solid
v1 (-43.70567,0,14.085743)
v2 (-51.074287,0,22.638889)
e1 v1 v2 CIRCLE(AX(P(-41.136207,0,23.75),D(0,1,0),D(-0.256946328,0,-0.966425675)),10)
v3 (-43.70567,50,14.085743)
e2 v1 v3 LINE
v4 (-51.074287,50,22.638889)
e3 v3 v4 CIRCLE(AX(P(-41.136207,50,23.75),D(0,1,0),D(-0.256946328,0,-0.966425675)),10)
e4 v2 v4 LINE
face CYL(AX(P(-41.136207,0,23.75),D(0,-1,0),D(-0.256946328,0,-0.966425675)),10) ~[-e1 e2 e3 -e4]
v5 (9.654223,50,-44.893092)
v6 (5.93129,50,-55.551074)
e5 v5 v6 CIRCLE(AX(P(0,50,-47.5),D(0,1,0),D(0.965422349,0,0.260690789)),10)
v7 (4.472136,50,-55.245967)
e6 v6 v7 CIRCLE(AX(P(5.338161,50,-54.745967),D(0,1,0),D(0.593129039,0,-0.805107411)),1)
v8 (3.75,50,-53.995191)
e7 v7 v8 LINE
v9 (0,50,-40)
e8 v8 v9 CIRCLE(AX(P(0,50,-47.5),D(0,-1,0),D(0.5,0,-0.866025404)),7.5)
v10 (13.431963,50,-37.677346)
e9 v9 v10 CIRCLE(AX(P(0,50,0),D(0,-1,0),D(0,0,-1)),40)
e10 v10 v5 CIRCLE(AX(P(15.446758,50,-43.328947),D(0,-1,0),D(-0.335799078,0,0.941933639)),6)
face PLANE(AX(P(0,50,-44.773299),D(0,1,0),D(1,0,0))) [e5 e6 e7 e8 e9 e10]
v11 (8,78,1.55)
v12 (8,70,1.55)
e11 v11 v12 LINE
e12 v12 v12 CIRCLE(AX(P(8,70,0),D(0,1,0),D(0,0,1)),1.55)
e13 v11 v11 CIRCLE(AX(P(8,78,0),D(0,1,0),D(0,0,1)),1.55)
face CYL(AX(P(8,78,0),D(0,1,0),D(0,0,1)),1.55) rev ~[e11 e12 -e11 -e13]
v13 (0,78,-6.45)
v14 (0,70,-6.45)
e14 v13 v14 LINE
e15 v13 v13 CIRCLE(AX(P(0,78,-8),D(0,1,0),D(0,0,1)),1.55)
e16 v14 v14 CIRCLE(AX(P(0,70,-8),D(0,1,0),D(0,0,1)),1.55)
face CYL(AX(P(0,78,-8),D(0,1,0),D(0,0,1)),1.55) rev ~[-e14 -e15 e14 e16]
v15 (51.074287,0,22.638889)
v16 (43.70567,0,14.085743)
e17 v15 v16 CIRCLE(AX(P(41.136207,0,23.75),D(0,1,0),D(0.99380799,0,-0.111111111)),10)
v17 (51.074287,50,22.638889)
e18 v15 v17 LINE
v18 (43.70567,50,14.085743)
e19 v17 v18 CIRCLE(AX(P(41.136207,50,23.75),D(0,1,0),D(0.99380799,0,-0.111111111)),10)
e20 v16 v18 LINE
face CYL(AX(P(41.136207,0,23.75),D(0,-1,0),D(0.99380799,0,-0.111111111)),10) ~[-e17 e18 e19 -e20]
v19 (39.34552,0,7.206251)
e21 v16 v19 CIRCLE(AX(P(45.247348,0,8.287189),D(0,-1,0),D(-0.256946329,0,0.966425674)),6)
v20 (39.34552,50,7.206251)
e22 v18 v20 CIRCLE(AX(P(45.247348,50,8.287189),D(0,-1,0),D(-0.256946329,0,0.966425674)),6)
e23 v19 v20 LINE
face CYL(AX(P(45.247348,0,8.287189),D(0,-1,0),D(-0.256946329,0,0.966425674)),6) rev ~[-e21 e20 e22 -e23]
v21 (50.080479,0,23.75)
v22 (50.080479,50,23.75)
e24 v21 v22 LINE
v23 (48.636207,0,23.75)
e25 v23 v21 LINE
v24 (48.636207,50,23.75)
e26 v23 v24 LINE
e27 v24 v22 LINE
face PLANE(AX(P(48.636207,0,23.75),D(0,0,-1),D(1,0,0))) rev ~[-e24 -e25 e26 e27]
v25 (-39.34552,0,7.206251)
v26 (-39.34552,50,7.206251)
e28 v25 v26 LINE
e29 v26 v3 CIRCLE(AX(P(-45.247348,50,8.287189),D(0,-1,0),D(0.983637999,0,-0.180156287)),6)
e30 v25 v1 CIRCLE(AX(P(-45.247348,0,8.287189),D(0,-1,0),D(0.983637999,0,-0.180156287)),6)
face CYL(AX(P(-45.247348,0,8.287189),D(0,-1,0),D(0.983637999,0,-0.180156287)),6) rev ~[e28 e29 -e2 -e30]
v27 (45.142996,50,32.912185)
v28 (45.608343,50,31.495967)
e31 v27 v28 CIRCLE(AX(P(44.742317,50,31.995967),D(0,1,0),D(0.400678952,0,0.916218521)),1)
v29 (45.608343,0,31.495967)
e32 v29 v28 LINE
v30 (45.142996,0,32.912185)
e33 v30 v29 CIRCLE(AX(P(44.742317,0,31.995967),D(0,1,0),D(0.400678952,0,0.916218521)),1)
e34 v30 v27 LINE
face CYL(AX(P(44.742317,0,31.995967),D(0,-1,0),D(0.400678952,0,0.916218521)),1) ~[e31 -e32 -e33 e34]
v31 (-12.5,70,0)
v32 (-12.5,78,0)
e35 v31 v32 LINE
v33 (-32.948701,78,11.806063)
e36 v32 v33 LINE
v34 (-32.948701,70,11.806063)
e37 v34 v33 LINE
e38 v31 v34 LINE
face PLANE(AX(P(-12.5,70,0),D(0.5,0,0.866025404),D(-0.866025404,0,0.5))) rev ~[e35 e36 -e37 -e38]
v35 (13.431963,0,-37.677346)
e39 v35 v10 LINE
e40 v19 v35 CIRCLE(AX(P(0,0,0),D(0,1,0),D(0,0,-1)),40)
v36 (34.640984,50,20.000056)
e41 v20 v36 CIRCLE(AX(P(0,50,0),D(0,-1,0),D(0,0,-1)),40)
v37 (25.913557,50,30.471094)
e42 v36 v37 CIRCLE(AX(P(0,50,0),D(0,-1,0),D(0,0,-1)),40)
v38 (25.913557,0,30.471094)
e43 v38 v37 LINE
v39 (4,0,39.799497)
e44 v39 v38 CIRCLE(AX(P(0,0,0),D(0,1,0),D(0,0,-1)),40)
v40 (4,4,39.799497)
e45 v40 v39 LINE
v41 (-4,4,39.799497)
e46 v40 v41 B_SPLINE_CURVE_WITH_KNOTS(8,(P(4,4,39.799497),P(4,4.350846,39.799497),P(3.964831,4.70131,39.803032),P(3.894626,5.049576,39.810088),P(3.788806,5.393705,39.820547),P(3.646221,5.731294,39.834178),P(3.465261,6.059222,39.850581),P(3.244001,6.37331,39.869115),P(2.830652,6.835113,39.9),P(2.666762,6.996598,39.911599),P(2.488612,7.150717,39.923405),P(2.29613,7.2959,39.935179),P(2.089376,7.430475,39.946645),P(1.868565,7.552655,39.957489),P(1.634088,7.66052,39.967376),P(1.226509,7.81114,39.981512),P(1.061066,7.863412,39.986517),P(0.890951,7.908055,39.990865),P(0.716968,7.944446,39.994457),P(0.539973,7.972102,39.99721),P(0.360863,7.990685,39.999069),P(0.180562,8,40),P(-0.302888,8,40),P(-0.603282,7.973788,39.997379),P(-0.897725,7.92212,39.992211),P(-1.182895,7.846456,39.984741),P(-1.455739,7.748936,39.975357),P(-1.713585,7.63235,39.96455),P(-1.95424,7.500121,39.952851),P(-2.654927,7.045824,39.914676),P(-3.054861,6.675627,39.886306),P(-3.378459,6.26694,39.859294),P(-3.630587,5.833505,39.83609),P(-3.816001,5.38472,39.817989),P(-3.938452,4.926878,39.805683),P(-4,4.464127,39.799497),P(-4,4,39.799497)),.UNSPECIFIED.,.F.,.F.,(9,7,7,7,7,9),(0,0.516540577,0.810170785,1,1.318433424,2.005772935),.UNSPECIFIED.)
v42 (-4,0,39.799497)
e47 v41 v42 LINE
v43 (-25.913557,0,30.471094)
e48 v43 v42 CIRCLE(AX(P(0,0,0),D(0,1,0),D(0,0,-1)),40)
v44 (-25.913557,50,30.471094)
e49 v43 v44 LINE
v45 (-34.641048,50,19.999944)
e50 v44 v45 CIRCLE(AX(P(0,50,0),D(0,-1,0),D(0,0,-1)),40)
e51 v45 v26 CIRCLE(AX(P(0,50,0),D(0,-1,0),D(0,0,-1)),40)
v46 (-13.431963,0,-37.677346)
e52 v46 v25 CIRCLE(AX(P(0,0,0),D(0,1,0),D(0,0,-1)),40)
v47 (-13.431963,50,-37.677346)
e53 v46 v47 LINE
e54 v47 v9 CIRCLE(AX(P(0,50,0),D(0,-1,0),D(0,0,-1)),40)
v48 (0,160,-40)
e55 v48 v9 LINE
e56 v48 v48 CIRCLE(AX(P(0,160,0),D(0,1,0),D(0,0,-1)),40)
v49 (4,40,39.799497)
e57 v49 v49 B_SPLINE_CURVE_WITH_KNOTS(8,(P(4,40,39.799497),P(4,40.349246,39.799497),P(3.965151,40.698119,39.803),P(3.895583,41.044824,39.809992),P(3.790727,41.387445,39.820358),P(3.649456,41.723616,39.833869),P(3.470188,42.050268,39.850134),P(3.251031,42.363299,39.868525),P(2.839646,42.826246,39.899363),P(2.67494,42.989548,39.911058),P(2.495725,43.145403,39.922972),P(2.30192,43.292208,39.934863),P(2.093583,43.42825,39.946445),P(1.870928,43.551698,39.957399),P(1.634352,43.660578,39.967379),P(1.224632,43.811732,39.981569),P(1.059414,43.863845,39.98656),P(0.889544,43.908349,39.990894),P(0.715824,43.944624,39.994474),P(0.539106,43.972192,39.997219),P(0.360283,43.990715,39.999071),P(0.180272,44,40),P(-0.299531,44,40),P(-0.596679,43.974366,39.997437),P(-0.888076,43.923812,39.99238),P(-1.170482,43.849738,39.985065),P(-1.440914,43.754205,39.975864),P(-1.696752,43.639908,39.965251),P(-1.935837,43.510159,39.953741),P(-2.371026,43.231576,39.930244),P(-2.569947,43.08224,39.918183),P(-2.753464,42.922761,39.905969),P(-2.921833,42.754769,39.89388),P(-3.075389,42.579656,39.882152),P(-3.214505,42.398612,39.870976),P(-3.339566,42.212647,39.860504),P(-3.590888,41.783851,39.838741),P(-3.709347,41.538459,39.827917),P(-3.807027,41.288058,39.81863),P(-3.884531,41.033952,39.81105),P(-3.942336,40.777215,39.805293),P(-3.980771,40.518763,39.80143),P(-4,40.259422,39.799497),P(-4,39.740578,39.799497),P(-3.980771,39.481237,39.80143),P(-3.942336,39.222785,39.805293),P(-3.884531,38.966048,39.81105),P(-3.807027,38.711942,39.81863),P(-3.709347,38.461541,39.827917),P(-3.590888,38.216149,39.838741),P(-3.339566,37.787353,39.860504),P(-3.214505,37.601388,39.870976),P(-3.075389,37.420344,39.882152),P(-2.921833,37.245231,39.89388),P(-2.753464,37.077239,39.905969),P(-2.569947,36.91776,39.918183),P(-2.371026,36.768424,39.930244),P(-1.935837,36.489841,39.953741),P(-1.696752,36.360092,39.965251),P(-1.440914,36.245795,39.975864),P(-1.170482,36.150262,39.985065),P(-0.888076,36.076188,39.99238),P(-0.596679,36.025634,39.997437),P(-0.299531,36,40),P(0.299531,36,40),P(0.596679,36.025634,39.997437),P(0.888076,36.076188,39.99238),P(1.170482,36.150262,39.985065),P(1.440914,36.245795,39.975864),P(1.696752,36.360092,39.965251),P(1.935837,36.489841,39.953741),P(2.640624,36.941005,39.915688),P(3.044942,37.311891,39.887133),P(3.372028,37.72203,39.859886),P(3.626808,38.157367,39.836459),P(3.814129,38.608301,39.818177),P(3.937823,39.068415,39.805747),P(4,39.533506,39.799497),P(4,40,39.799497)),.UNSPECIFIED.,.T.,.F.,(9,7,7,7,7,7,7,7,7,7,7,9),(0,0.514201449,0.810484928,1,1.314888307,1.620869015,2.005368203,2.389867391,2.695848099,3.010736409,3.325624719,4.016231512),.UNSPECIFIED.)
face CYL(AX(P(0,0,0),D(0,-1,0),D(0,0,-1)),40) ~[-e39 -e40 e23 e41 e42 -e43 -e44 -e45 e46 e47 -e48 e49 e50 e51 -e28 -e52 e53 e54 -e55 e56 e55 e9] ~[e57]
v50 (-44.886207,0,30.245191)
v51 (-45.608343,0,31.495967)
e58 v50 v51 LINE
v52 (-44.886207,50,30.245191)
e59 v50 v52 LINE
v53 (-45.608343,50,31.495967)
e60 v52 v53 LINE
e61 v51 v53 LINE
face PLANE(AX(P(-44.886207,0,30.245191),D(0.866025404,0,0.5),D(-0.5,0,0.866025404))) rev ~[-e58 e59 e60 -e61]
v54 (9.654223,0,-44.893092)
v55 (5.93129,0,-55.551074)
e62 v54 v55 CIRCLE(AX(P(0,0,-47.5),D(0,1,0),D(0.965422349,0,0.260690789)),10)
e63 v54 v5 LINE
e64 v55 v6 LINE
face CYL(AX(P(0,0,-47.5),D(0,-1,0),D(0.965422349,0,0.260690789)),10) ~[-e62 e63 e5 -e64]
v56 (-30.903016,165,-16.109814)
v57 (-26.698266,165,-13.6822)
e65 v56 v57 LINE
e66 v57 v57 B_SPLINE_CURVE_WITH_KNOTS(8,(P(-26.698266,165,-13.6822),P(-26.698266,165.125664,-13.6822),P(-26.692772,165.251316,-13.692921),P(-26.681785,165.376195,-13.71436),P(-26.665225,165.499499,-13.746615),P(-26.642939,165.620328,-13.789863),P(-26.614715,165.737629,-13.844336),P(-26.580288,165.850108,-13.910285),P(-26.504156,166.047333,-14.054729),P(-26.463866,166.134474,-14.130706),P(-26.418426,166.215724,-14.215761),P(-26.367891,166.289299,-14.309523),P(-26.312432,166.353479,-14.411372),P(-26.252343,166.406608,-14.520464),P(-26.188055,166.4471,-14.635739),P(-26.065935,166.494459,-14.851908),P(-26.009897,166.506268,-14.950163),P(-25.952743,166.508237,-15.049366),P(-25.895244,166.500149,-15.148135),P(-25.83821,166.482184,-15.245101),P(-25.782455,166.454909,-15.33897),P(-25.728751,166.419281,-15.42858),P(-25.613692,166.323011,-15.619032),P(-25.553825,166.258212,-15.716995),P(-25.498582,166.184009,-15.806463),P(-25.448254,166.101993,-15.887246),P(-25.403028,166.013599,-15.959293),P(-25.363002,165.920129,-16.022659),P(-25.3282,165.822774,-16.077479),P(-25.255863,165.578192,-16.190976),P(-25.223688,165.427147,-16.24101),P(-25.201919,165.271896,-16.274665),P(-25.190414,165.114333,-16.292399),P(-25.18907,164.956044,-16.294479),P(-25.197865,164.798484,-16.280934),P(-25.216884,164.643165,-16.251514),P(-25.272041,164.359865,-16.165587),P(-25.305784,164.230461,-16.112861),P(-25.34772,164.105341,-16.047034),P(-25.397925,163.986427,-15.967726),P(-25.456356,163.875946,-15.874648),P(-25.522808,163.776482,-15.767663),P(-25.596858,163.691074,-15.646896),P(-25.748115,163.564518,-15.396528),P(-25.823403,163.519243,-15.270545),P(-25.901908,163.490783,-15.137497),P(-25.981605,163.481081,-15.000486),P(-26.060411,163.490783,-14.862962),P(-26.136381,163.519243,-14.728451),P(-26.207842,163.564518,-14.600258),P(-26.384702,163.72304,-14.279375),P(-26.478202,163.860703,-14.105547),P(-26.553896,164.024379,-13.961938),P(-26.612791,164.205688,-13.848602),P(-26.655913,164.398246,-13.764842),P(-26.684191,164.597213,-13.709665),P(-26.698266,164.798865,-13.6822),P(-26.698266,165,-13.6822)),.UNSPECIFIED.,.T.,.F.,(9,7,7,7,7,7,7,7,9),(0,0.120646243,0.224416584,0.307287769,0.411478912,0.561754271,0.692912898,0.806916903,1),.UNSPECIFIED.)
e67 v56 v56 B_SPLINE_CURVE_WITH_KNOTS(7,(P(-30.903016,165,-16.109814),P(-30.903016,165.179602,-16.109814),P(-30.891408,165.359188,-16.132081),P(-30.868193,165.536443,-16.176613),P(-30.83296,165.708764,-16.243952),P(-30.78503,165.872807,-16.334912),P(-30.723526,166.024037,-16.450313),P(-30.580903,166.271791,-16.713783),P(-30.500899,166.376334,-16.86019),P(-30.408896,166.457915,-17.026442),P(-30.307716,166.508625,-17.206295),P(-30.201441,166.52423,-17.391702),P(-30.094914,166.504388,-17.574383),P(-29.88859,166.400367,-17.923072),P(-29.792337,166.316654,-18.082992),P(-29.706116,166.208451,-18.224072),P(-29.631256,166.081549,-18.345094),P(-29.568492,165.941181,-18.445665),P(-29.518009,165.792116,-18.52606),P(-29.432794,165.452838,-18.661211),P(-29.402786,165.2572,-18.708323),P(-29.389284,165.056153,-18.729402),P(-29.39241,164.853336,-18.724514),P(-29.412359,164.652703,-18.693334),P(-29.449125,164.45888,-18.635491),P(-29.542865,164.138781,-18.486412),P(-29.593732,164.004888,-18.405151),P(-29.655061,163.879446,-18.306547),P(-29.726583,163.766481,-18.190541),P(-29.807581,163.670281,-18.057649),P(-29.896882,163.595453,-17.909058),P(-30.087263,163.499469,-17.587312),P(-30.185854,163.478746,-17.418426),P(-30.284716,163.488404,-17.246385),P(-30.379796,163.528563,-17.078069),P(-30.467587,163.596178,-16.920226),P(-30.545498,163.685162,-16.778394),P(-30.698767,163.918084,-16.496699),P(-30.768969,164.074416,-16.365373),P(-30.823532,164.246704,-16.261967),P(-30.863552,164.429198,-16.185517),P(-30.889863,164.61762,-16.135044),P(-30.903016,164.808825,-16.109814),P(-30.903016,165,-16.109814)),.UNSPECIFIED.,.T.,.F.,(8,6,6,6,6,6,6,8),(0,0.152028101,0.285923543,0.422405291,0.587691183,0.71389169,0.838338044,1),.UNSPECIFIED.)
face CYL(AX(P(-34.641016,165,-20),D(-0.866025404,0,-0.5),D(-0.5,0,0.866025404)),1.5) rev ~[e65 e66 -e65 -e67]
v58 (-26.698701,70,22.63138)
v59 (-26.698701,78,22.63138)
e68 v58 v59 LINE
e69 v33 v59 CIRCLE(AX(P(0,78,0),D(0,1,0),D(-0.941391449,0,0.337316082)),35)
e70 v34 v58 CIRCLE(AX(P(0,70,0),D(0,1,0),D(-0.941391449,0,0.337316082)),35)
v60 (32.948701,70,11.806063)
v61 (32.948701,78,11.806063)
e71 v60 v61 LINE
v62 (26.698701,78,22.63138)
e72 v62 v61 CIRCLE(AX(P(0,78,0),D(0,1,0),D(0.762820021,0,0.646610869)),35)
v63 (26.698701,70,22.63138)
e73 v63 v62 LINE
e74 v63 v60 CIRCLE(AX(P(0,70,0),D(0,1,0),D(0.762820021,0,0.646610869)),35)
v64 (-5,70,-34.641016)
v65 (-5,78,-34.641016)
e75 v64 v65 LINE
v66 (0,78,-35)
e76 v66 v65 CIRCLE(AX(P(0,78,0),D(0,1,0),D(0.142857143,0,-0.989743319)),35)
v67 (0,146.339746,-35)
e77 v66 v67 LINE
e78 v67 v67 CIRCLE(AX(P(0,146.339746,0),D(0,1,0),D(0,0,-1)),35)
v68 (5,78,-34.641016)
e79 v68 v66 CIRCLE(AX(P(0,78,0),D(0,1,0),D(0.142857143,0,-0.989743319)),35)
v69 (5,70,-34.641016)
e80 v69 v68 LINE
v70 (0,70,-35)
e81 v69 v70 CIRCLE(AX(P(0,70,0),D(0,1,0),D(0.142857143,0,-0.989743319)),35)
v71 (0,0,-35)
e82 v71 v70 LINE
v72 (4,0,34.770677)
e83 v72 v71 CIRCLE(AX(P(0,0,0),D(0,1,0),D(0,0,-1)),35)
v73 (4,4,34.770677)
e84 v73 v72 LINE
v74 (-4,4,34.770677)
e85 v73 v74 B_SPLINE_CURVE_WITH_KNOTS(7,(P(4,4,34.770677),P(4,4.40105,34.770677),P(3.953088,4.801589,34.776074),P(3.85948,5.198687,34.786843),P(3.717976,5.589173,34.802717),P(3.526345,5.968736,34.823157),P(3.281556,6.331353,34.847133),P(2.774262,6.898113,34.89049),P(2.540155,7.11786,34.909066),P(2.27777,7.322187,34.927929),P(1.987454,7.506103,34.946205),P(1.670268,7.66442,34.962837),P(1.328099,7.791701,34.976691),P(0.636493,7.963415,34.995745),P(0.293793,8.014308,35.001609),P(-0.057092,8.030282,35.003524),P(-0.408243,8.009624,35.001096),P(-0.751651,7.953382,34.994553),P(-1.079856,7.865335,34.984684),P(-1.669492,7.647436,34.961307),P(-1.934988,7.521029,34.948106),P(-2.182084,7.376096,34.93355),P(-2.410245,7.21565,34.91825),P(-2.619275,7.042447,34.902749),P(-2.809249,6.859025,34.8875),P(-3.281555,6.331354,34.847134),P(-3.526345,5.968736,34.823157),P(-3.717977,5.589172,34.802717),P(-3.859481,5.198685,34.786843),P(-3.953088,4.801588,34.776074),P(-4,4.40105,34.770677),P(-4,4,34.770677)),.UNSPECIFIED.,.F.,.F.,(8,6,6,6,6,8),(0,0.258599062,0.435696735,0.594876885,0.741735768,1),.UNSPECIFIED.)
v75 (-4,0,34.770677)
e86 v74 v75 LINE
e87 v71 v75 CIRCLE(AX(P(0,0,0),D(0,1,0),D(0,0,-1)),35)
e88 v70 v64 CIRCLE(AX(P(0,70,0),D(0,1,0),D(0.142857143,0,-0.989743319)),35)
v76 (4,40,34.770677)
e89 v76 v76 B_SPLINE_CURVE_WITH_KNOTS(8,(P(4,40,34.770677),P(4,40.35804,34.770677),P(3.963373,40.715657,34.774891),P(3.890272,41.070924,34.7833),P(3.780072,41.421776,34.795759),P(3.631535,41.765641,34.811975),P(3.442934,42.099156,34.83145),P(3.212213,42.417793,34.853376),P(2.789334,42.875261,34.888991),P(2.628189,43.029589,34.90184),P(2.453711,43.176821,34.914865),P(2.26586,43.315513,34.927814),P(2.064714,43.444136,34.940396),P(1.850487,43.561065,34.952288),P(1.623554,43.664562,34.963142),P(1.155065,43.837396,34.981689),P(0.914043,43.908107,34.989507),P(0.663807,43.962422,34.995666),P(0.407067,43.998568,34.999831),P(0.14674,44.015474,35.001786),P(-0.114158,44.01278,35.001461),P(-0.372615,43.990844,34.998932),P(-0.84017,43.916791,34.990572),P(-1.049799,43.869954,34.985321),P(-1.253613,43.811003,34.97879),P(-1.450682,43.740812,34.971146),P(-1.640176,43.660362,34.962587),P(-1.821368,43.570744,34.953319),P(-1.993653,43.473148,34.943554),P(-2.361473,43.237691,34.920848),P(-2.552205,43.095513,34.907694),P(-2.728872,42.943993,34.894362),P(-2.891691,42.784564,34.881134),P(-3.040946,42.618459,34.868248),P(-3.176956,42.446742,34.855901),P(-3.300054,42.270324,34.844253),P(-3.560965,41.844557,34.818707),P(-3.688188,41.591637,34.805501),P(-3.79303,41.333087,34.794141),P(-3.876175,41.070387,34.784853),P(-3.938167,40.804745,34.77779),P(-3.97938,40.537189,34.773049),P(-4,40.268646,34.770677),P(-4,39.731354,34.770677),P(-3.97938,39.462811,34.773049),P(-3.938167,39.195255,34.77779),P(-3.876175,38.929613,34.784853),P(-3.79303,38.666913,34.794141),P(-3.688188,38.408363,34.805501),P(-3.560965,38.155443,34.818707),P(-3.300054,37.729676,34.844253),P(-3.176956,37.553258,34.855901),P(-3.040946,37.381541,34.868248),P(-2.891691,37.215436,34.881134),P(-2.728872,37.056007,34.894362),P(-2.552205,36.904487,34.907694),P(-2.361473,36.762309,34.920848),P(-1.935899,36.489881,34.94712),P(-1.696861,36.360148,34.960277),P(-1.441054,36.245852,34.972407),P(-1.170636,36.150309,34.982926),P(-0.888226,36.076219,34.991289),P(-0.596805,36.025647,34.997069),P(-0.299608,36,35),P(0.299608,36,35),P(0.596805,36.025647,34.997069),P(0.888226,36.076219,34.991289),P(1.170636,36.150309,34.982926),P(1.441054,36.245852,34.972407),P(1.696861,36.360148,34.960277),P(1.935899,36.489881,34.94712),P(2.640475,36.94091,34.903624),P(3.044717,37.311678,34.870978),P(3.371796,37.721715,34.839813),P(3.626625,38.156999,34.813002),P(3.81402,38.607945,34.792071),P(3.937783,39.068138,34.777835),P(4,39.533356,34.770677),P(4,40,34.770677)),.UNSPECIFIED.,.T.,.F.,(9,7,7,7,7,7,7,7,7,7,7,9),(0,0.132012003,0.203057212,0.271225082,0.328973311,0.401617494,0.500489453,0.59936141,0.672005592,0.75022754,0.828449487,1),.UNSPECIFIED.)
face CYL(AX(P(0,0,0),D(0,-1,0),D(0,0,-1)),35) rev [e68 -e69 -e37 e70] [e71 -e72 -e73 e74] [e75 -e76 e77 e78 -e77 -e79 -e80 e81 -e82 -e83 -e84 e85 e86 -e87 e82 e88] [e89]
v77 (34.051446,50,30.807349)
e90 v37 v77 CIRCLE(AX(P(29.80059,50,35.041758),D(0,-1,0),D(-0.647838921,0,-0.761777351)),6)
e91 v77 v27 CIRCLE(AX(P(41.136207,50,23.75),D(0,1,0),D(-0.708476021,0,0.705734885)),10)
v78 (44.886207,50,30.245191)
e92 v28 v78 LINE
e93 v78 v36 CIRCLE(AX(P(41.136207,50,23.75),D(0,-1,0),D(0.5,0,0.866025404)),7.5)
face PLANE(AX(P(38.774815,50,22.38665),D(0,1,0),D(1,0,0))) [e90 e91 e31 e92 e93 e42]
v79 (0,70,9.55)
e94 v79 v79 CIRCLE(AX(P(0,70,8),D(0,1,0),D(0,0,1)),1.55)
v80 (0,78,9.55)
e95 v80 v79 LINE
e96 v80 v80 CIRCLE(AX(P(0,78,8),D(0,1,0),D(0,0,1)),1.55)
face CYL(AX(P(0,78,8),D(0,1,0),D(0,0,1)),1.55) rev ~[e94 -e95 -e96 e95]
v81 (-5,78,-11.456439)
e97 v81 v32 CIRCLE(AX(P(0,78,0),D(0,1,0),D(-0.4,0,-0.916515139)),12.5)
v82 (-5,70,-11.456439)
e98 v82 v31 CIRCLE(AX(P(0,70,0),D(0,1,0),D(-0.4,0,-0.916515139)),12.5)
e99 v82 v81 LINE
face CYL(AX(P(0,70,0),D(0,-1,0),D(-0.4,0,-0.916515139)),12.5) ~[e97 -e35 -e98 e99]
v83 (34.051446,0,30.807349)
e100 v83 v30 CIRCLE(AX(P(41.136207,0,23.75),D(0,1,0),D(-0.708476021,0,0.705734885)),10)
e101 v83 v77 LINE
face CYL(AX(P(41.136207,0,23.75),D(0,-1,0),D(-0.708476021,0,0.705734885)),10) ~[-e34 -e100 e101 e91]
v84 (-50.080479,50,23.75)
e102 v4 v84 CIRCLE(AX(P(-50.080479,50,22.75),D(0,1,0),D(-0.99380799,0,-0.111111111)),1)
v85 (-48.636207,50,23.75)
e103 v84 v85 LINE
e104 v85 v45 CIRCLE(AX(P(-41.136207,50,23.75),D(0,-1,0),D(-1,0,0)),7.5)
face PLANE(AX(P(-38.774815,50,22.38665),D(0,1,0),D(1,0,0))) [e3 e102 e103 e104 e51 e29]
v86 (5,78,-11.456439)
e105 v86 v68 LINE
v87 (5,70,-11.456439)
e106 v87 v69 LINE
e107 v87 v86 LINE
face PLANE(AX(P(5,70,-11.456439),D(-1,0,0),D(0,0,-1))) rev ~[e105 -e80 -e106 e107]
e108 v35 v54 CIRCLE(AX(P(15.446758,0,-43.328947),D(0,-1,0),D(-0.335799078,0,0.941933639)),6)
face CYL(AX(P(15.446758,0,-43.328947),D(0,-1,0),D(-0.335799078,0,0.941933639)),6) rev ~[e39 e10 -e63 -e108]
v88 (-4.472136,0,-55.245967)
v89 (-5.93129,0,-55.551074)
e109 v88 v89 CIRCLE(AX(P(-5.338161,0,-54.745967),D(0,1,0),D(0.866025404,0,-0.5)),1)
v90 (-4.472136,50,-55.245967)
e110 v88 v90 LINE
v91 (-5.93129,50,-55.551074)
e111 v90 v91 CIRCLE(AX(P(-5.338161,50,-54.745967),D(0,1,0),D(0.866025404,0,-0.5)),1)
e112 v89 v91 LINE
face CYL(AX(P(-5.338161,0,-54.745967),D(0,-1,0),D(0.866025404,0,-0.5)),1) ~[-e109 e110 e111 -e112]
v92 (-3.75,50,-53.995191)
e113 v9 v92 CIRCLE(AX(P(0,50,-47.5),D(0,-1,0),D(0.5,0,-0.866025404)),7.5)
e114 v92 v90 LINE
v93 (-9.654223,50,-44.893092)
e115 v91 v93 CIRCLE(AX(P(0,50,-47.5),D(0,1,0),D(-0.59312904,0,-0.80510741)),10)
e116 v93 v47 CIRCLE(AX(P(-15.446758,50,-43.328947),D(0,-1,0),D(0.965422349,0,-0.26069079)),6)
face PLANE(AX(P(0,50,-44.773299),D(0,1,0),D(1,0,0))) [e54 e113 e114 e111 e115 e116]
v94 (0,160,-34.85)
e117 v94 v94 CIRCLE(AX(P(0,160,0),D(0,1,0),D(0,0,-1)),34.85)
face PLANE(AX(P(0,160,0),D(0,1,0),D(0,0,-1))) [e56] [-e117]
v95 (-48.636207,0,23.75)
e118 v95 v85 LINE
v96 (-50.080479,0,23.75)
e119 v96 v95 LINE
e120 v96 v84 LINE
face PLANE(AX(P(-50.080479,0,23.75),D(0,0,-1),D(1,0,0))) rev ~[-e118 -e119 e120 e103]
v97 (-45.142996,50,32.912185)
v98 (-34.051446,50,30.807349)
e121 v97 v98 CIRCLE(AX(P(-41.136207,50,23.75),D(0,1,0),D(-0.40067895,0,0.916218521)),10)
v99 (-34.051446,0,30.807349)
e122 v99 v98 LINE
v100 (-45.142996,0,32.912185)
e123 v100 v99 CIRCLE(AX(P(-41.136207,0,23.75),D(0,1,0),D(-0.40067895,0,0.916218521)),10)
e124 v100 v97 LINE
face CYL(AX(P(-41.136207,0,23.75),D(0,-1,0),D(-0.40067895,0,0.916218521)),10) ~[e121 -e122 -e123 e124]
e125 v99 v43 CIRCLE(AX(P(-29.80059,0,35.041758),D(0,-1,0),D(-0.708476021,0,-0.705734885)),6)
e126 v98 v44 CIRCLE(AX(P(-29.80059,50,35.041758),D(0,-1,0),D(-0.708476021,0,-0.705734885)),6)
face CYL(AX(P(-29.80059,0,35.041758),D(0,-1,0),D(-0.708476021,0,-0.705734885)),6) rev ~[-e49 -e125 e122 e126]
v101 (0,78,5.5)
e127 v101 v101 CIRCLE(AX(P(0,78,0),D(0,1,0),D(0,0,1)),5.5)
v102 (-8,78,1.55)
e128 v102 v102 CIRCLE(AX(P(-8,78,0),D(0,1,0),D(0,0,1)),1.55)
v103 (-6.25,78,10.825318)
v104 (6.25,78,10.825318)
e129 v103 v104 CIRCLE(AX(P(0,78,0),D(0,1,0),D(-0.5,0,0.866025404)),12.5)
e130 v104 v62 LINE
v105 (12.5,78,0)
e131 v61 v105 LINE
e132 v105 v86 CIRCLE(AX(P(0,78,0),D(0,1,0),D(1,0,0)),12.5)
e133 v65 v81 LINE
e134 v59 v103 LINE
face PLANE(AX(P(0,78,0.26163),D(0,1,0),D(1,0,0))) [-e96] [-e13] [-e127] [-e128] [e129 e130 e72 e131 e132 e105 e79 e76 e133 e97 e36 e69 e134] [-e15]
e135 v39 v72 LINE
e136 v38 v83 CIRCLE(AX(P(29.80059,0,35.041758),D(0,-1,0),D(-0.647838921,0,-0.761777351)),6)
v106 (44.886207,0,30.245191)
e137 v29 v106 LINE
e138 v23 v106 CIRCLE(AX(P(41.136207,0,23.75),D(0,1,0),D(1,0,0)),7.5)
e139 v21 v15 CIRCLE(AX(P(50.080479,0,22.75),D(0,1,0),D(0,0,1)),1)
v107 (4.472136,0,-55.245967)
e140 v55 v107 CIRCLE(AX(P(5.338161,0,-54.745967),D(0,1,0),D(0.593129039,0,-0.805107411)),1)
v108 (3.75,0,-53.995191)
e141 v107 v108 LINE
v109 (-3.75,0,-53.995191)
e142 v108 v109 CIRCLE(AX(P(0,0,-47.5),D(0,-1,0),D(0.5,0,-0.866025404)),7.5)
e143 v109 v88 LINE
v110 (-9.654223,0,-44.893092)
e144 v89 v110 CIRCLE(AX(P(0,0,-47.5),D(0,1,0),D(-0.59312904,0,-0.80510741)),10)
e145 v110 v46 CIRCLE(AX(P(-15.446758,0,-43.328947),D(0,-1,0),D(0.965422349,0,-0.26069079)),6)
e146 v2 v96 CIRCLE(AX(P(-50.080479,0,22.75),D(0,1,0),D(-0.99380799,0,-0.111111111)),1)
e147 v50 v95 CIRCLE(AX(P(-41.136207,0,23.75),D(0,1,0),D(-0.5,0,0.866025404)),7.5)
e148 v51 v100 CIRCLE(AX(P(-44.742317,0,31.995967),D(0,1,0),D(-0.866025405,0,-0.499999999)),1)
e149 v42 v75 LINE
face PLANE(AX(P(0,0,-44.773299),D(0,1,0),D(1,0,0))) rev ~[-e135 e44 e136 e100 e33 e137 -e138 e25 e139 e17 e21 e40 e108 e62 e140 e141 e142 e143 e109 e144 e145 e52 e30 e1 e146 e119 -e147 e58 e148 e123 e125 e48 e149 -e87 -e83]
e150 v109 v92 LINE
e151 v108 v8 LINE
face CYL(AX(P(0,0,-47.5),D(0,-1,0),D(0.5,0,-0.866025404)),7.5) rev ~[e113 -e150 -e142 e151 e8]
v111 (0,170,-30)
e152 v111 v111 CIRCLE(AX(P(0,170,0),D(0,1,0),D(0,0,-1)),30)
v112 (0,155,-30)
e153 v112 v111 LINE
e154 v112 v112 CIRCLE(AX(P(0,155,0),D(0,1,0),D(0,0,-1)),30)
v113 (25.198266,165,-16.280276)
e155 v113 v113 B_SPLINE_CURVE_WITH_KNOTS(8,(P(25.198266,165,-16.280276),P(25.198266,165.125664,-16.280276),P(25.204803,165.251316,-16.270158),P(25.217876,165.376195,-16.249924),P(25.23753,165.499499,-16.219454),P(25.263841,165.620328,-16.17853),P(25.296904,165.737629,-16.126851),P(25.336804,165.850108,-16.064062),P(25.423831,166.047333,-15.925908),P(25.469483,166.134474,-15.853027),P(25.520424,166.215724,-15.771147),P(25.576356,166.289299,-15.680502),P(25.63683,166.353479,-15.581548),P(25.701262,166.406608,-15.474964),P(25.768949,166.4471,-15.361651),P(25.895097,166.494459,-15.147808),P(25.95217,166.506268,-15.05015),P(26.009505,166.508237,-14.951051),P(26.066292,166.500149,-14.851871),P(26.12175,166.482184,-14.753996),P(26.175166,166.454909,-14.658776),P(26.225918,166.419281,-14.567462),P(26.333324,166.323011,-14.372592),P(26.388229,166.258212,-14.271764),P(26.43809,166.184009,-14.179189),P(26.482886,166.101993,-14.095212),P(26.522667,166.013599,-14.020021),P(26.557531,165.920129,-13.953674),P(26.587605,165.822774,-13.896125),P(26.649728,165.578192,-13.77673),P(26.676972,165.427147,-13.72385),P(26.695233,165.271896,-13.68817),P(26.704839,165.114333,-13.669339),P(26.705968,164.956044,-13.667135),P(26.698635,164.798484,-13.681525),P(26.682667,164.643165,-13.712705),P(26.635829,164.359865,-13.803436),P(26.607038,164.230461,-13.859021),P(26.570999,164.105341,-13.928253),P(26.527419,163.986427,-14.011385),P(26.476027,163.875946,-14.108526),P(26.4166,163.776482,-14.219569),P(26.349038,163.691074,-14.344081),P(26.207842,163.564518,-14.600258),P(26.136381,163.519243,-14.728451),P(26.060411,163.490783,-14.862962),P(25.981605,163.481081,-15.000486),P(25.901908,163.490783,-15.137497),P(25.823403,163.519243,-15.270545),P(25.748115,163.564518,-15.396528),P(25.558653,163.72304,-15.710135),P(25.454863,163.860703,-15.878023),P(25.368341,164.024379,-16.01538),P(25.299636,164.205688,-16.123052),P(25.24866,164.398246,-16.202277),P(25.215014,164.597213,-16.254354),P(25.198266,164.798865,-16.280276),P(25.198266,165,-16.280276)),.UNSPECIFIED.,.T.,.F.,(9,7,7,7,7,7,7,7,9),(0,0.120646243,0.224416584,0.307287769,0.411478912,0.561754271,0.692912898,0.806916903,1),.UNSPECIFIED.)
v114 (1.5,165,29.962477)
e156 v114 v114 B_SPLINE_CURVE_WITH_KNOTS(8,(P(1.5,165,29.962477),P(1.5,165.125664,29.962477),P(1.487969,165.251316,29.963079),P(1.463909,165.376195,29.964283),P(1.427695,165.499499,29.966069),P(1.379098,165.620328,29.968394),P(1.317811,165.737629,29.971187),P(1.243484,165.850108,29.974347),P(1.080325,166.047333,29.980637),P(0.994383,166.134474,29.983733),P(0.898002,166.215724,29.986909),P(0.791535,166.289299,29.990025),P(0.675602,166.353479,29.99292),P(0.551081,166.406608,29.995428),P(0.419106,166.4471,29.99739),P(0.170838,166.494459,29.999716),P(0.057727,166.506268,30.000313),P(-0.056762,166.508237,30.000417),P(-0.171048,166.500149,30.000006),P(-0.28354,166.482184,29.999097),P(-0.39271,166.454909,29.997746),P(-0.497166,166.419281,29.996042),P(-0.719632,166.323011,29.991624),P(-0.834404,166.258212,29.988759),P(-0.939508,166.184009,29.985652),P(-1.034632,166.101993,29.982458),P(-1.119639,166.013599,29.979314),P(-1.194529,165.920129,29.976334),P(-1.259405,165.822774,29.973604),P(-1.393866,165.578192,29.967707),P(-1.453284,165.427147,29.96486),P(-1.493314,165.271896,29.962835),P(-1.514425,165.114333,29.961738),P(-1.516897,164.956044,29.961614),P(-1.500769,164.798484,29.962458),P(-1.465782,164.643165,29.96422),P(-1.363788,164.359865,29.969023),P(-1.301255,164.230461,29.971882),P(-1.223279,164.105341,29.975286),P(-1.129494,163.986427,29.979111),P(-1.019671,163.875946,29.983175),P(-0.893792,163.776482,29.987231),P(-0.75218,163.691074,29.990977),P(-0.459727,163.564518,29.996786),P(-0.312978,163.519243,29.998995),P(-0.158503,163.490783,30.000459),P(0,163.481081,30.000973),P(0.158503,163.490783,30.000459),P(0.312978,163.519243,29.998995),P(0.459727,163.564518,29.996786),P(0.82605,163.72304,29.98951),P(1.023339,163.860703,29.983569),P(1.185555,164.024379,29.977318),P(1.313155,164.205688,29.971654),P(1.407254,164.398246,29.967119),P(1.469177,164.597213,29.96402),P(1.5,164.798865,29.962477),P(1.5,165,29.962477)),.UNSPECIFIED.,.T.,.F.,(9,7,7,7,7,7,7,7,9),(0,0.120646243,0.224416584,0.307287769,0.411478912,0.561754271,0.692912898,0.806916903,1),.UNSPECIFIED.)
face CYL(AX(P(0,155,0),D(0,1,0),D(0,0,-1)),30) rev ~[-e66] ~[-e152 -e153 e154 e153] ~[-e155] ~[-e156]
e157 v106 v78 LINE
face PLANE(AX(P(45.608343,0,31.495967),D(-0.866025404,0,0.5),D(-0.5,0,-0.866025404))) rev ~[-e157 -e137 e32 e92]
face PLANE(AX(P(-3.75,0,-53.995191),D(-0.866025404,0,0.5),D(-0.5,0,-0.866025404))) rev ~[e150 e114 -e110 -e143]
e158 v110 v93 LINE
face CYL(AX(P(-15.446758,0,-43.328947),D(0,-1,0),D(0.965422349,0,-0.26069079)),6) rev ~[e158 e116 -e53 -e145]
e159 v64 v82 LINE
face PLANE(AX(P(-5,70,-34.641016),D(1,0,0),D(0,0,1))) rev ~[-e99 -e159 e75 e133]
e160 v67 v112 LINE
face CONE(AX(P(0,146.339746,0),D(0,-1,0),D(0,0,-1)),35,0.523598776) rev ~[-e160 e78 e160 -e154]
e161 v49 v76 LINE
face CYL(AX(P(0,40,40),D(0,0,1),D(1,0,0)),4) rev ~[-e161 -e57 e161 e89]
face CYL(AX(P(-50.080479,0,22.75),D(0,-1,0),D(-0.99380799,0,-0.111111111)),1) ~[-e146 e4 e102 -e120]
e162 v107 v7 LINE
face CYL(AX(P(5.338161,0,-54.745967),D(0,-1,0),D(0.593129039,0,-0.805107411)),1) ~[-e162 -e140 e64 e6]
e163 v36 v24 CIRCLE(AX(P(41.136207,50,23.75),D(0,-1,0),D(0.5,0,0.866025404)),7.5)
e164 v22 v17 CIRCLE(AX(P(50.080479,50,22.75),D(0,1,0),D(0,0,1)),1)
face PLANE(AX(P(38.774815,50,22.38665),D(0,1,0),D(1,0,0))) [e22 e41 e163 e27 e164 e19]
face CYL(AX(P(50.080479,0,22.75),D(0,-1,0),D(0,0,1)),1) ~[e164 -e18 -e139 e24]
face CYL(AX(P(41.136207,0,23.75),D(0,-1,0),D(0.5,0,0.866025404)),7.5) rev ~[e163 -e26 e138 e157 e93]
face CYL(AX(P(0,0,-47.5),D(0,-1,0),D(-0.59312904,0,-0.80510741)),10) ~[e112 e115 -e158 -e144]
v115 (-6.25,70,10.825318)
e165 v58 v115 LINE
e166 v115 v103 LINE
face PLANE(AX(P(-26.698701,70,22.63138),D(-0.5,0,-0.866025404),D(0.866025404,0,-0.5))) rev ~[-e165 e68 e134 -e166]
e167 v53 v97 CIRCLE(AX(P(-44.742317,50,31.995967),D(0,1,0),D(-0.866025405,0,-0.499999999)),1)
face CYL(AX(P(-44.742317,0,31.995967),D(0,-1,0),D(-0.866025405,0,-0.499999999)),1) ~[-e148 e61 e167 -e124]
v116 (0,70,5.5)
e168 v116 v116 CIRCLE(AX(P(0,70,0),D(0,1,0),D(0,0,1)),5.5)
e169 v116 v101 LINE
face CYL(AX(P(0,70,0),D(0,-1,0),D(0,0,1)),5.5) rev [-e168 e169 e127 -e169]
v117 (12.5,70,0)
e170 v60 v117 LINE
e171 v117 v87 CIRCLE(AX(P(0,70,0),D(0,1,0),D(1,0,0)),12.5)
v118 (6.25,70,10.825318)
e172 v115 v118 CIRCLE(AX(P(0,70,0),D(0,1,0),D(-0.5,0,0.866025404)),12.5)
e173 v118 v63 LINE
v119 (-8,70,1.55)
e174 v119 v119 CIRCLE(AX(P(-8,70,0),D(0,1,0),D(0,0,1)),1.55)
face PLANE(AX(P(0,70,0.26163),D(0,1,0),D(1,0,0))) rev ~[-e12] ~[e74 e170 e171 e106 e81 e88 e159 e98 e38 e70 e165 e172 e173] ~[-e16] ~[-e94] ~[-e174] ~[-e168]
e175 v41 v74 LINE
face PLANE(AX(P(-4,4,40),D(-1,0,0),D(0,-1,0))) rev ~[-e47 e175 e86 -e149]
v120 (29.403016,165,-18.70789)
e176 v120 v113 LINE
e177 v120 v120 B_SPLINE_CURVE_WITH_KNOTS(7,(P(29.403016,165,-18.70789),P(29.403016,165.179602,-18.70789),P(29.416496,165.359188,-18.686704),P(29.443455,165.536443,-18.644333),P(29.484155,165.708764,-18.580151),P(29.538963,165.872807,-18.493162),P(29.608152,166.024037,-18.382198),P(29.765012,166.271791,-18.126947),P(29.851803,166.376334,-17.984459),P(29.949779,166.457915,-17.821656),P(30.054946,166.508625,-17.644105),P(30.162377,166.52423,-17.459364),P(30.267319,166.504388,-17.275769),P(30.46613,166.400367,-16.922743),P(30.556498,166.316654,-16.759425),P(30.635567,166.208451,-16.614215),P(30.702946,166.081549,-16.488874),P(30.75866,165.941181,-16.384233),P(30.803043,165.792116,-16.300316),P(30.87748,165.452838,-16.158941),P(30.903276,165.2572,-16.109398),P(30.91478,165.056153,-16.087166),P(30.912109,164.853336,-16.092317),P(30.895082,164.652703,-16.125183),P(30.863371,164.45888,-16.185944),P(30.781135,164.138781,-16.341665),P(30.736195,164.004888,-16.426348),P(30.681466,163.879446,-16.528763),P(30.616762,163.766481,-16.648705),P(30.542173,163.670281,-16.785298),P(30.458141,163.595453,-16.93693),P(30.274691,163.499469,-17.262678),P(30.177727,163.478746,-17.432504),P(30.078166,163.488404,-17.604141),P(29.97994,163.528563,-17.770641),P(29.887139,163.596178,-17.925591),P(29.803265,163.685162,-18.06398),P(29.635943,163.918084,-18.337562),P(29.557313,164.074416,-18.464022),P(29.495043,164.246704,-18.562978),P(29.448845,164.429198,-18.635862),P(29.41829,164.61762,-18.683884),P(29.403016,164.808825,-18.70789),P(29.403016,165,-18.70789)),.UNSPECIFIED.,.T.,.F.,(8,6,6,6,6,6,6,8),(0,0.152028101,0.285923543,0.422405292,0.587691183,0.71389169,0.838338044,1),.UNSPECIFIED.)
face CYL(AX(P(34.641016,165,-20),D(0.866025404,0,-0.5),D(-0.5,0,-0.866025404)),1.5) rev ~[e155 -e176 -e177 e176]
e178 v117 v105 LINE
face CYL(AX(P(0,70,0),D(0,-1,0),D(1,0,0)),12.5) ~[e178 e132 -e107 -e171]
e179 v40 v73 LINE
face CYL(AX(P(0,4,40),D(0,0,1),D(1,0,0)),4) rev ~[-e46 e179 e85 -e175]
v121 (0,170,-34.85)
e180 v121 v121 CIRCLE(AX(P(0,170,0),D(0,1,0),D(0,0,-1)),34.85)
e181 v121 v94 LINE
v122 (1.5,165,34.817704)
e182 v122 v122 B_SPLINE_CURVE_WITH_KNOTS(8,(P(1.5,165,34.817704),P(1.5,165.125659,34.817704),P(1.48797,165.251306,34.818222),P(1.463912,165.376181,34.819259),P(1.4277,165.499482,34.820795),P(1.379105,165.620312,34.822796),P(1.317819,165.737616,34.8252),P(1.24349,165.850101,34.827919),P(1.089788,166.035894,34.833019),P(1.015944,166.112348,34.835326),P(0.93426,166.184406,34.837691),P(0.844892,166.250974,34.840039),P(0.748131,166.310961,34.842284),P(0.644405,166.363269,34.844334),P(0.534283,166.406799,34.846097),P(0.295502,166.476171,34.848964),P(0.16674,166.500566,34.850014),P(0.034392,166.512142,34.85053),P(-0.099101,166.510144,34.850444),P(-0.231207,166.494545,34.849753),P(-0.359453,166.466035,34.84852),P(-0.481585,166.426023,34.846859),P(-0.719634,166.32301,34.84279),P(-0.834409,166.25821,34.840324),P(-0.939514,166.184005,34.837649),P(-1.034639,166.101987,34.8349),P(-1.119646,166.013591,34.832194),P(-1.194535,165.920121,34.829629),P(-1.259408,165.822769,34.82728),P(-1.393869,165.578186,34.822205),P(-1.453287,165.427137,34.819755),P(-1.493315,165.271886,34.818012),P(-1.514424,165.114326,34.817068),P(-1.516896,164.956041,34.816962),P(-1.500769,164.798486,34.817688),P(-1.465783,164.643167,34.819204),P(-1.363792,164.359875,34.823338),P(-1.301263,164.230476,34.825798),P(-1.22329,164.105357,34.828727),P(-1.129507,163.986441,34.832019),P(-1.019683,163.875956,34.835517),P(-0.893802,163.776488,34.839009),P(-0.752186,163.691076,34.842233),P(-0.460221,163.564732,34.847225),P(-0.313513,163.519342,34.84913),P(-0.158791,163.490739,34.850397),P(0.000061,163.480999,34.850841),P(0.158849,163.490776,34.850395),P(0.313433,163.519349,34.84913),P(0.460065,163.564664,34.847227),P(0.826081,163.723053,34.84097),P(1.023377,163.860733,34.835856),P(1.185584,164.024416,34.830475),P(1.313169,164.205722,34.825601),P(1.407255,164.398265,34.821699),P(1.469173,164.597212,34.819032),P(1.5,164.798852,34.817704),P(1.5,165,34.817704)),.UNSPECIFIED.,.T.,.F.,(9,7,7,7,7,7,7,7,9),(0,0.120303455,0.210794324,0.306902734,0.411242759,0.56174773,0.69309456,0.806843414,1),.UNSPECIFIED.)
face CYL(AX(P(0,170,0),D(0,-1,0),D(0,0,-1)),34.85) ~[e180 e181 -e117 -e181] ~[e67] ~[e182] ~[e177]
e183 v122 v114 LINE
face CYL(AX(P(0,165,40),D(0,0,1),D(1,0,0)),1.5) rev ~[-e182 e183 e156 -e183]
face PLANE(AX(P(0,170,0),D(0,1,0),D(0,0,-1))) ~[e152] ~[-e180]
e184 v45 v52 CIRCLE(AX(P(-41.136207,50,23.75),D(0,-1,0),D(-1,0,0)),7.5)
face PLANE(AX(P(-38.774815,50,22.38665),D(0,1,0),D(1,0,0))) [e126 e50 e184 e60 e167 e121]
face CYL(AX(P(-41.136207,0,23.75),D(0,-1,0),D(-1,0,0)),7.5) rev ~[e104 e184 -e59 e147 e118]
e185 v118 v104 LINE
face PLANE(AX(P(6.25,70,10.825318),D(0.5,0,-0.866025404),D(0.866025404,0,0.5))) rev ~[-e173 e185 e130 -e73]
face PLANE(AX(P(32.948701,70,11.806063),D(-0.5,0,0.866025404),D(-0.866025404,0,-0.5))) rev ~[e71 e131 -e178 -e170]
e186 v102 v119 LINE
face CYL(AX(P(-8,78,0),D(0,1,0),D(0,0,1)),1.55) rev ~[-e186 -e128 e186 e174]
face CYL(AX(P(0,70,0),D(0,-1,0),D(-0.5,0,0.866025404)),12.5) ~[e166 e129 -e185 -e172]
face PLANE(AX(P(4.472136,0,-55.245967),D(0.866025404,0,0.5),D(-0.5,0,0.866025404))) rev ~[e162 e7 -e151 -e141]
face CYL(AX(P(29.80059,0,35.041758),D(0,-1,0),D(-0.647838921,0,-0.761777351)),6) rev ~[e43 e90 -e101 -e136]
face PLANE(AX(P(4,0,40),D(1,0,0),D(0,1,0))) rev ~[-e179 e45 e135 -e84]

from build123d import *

# Parameters (mm, degrees)
SKETCH1_R               = 40
SKETCH1_R_2             = 35
BOSS_EXTRUDE1_DEPTH     = 180
BOSS_EXTRUDE2_DEPTH     = 50
SKETCH6_R               = 5.5
BOSS_EXTRUDE3_DEPTH     = 8
CUT_EXTRUDE1_REACH      = 154.121
SKETCH7_R               = 1.55
CUT_EXTRUDE2_START      = -50
SKETCH9_R               = 40
CUT_EXTRUDE2_DEPTH      = 50
CUT_EXTRUDE3_REACH      = 203.684
CUT_EXTRUDE3_END_RADIUS = 30
SKETCH11_R              = 1.5
CIRPATTERN1_COUNT       = 3
CUT_EXTRUDE4_REACH      = 203.684
CUT_EXTRUDE4_END_RADIUS = 35
SKETCH12_R              = 4


with BuildPart() as part:
    # Sketch1 → Boss-Extrude1 (new body)
    with BuildSketch(Plane(origin=(0, 0, 0), x_dir=(1, 0, 0), z_dir=(0, 1, 0))):
        with Locations(Location((0, 0, 0), (0, 0, 90))):
            Circle(SKETCH1_R)
        with Locations(Location((0, 0, 0), (0, 0, 90))):
            Circle(SKETCH1_R_2, mode=Mode.SUBTRACT)
    extrude(amount=BOSS_EXTRUDE1_DEPTH)

    # Sketch3 → Revolve1 (revolve)
    with BuildSketch(Plane(origin=(0, 0, 0), x_dir=(0, 0, -1), z_dir=(1, 0, 0)), mode=Mode.PRIVATE) as revolve1_sk:
        with BuildLine():
            Line((-35, 180), (-40, 180))
            Line((-40, 180), (-40, 185))
            add(Edge.make_bspline(
                [(-20, 210), (-35.448934618, 201.981430701), (-40, 185)],
                knots=[0, 0, 0, 1, 1, 1], degree=2))
            Line((-20, 210), (0, 210))
            Line((0, 210), (0, 202.928932188))
            Line((0, 202.928932188), (-20, 202.928932188))
            add(Edge.make_bspline(
                [(-20, 202.928932188), (-32.989454859, 194.577869332), (-35, 180)],
                knots=[0, 0, 0, 1, 1, 1], degree=2))
        make_face()
    revolve(revolve1_sk.sketch.rotate(Axis((0, -20.154872571, 0), (0, 1, 0)), 180), axis=Axis((0, -20.154872571, 0), (0, 1, 0)))

    # Sketch4 → Boss-Extrude2 (add)
    with BuildSketch(Plane(origin=(0, 0, 0), x_dir=(1, 0, 0), z_dir=(0, 1, 0))):
        with BuildLine():
            Line((4.472135955, 55.245966692), (3.75, 53.995190528))
            ThreePointArc((3.75, 53.995190528), (0, 40), (-3.75, 53.995190528))
            Line((-3.75, 53.995190528), (-4.472135955, 55.245966692))
            ThreePointArc((-4.472135955, 55.245966692), (-5.133489086, 55.72479725), (-5.931290399, 55.551074103))
            ThreePointArc((-5.931290399, 55.551074103), (-9.440614698, 50.797695275), (-9.654223492, 44.893092105))
            ThreePointArc((-9.654223492, 44.893092105), (-10.13118194, 40.546025245), (-13.431963119, 37.677345538))
            Line((-13.431963119, 37.677345538), (13.431963119, 37.677345538))
            ThreePointArc((13.431963119, 37.677345538), (10.13118194, 40.546025245), (9.654223492, 44.893092105))
            ThreePointArc((9.654223492, 44.893092105), (9.440614698, 50.797695275), (5.931290399, 55.551074103))
            ThreePointArc((5.931290399, 55.551074103), (5.133489086, 55.72479725), (4.472135955, 55.245966692))
        make_face()
        with BuildLine():
            Line((45.608342635, -31.495966692), (44.88620668, -30.245190528))
            ThreePointArc((44.88620668, -30.245190528), (34.641016151, -20), (48.63620668, -23.75))
            Line((48.63620668, -23.75), (50.08047859, -23.75))
            ThreePointArc((50.08047859, -23.75), (50.825834582, -23.416666667), (51.07428658, -22.638888889))
            ThreePointArc((51.07428658, -22.638888889), (48.712401911, -17.223035482), (43.705669963, -14.085743255))
            ThreePointArc((43.705669963, -14.085743255), (40.179478855, -11.499151692), (39.345519942, -7.206251485))
            Line((39.345519942, -7.206251485), (25.913556823, -30.471094053))
            ThreePointArc((25.913556823, -30.471094053), (30.048296914, -29.046873553), (34.051446472, -30.80734885))
            ThreePointArc((34.051446472, -30.80734885), (39.271787213, -33.574659793), (45.142996181, -32.912185214))
            ThreePointArc((45.142996181, -32.912185214), (45.692345496, -32.308130583), (45.608342635, -31.495966692))
        make_face()
        with BuildLine():
            Line((-50.08047859, -23.75), (-48.63620668, -23.75))
            ThreePointArc((-48.63620668, -23.75), (-34.641016151, -20), (-44.88620668, -30.245190528))
            Line((-44.88620668, -30.245190528), (-45.608342635, -31.495966692))
            ThreePointArc((-45.608342635, -31.495966692), (-45.692345496, -32.308130583), (-45.142996181, -32.912185214))
            ThreePointArc((-45.142996181, -32.912185214), (-39.271787213, -33.574659793), (-34.051446472, -30.80734885))
            ThreePointArc((-34.051446472, -30.80734885), (-30.048296914, -29.046873553), (-25.913556823, -30.471094053))
            Line((-25.913556823, -30.471094053), (-39.345519942, -7.206251485))
            ThreePointArc((-39.345519942, -7.206251485), (-40.179478855, -11.499151692), (-43.705669963, -14.085743255))
            ThreePointArc((-43.705669963, -14.085743255), (-48.712401911, -17.223035482), (-51.07428658, -22.638888889))
            ThreePointArc((-51.07428658, -22.638888889), (-50.825834582, -23.416666667), (-50.08047859, -23.75))
        make_face()
    extrude(amount=BOSS_EXTRUDE2_DEPTH)

    # Sketch6 → Boss-Extrude3 (add)
    with BuildSketch(Plane(origin=(0, 70, 0), x_dir=(1, 0, 0), z_dir=(0, 1, 0))):
        with BuildLine():
            Line((-5, 34.641016151), (-5, 11.456439237))
            ThreePointArc((-5, 11.456439237), (-10.458250332, 6.846531969), (-12.5, 0))
            Line((-12.5, 0), (-32.948700726, -11.806062869))
            ThreePointArc((-32.948700726, -11.806062869), (-30.310889132, -17.5), (-26.698700726, -22.631380416))
            Line((-26.698700726, -22.631380416), (-6.25, -10.825317547))
            ThreePointArc((-6.25, -10.825317547), (0, -12.5), (6.25, -10.825317547))
            Line((6.25, -10.825317547), (26.698700726, -22.631380416))
            ThreePointArc((26.698700726, -22.631380416), (30.310889132, -17.5), (32.948700726, -11.806062869))
            Line((32.948700726, -11.806062869), (12.5, 0))
            ThreePointArc((12.5, 0), (10.458250332, 6.846531969), (5, 11.456439237))
            Line((5, 11.456439237), (5, 34.641016151))
            ThreePointArc((5, 34.641016151), (0, 35), (-5, 34.641016151))
        make_face()
        with Locations(Location((0, 0, 0), (0, 0, 270))):
            Circle(SKETCH6_R, mode=Mode.SUBTRACT)
    extrude(amount=BOSS_EXTRUDE3_DEPTH)

    # Sketch7 → Cut-Extrude1 (cut, up to next)
    with BuildSketch(Plane(origin=(0, 78, 0), x_dir=(1, 0, 0), z_dir=(0, 1, 0)), mode=Mode.PRIVATE) as cut_extrude1_sk1:
        with Locations(Location((0, 8, 0), (0, 0, 270))):
            Circle(SKETCH7_R)
    cut_extrude1_tool1 = extrude(cut_extrude1_sk1.sketch, amount=-CUT_EXTRUDE1_REACH, mode=Mode.PRIVATE) & part.part
    # Sketch7 → Cut-Extrude1 (cut, up to next)
    with BuildSketch(Plane(origin=(0, 78, 0), x_dir=(1, 0, 0), z_dir=(0, 1, 0)), mode=Mode.PRIVATE) as cut_extrude1_sk2:
        with Locations(Location((8, 0, 0), (0, 0, 270))):
            Circle(SKETCH7_R)
    cut_extrude1_tool2 = extrude(cut_extrude1_sk2.sketch, amount=-CUT_EXTRUDE1_REACH, mode=Mode.PRIVATE) & part.part
    # Sketch7 → Cut-Extrude1 (cut, up to next)
    with BuildSketch(Plane(origin=(0, 78, 0), x_dir=(1, 0, 0), z_dir=(0, 1, 0)), mode=Mode.PRIVATE) as cut_extrude1_sk3:
        with Locations(Location((0, -8, 0), (0, 0, 270))):
            Circle(SKETCH7_R)
    cut_extrude1_tool3 = extrude(cut_extrude1_sk3.sketch, amount=-CUT_EXTRUDE1_REACH, mode=Mode.PRIVATE) & part.part
    # Sketch7 → Cut-Extrude1 (cut, up to next)
    with BuildSketch(Plane(origin=(0, 78, 0), x_dir=(1, 0, 0), z_dir=(0, 1, 0)), mode=Mode.PRIVATE) as cut_extrude1_sk4:
        with Locations(Location((-8, 0, 0), (0, 0, 270))):
            Circle(SKETCH7_R)
    cut_extrude1_tool4 = extrude(cut_extrude1_sk4.sketch, amount=-CUT_EXTRUDE1_REACH, mode=Mode.PRIVATE) & part.part
    add(cut_extrude1_tool1.solids().sort_by_distance((0, 78, -8))[0], mode=Mode.SUBTRACT)
    add(cut_extrude1_tool2.solids().sort_by_distance((8, 78, 0))[0], mode=Mode.SUBTRACT)
    add(cut_extrude1_tool3.solids().sort_by_distance((0, 78, 8))[0], mode=Mode.SUBTRACT)
    add(cut_extrude1_tool4.solids().sort_by_distance((-8, 78, 0))[0], mode=Mode.SUBTRACT)

    # Sketch9 → Cut-Extrude2 (cut)
    with BuildSketch(Plane(origin=(0, 210, 0), x_dir=(1, 0, 0), z_dir=(0, 1, 0)).offset(CUT_EXTRUDE2_START)):
        with Locations(Location((0, 0, 0), (0, 0, 90))):
            Circle(SKETCH9_R)
    extrude(amount=CUT_EXTRUDE2_DEPTH, mode=Mode.SUBTRACT)

    # Sketch10 → Revolve2 (revolve)
    with BuildSketch(Plane.XY, mode=Mode.PRIVATE) as revolve2_sk:
        Polygon((-35, 146.339745962), (-30, 155), (-30, 170), (-34.85, 170), (-34.85, 160), (-35, 160), align=None)
    revolve(revolve2_sk.sketch.rotate(Axis((0, 0, 0), (0, 1, 0)), 270), axis=Axis((0, 0, 0), (0, 1, 0)))

    # Cut-Extrude3: up to this cylinder (the profile starts outside it)
    cut_extrude3_end = Plane(origin=(0, 165, 0), z_dir=(0, -1, 0)) * Cylinder(CUT_EXTRUDE3_END_RADIUS, 468.368, mode=Mode.PRIVATE)
    # Sketch11 → Cut-Extrude3 (cut, up to the surface)
    with BuildSketch(Plane.XY.offset(40), mode=Mode.PRIVATE) as cut_extrude3_sk1:
        with Locations((0, 165)):
            Circle(SKETCH11_R)
    cut_extrude3_tool1 = extrude(cut_extrude3_sk1.sketch, amount=-CUT_EXTRUDE3_REACH, mode=Mode.PRIVATE) - cut_extrude3_end
    cut_extrude3 = cut_extrude3_tool1.solids().sort_by_distance((0, 165, 40))[0]
    add(cut_extrude3, mode=Mode.SUBTRACT)

    # CirPattern1: Cut-Extrude3 ×3 about axis
    cirpattern1_axis = Axis((0, 170, 0), (0, -1, 0))
    for i in range(1, CIRPATTERN1_COUNT):
        add(cut_extrude3.rotate(cirpattern1_axis, i * 360 / CIRPATTERN1_COUNT), mode=Mode.SUBTRACT)

    # Cut-Extrude4: up to this cylinder (the profile starts outside it)
    cut_extrude4_end = Plane(origin=(0, 21.8133005, 0), z_dir=(0, -1, 0)) * Cylinder(CUT_EXTRUDE4_END_RADIUS, 514.741399, mode=Mode.PRIVATE)
    # Sketch12 → Cut-Extrude4 (cut, up to the surface)
    with BuildSketch(Plane.XY.offset(40), mode=Mode.PRIVATE) as cut_extrude4_sk1:
        with Locations((0, 40)):
            Circle(SKETCH12_R)
    cut_extrude4_tool1 = extrude(cut_extrude4_sk1.sketch, amount=-CUT_EXTRUDE4_REACH, mode=Mode.PRIVATE) - cut_extrude4_end
    add(cut_extrude4_tool1.solids().sort_by_distance((0, 40, 40))[0], mode=Mode.SUBTRACT)
    # Sketch12 → Cut-Extrude4 (cut, up to the surface)
    with BuildSketch(Plane.XY.offset(40), mode=Mode.PRIVATE) as cut_extrude4_sk2:
        with BuildLine():
            Line((-4, 0), (4, 0))
            Line((4, 0), (4, 4))
            ThreePointArc((4, 4), (0, 8), (-4, 4))
            Line((-4, 4), (-4, 0))
        make_face()
    cut_extrude4_tool2 = extrude(cut_extrude4_sk2.sketch, amount=-CUT_EXTRUDE4_REACH, mode=Mode.PRIVATE) - cut_extrude4_end
    add(cut_extrude4_tool2.solids().sort_by_distance((0, 3.626601, 40))[0], mode=Mode.SUBTRACT)


solid = part.part
